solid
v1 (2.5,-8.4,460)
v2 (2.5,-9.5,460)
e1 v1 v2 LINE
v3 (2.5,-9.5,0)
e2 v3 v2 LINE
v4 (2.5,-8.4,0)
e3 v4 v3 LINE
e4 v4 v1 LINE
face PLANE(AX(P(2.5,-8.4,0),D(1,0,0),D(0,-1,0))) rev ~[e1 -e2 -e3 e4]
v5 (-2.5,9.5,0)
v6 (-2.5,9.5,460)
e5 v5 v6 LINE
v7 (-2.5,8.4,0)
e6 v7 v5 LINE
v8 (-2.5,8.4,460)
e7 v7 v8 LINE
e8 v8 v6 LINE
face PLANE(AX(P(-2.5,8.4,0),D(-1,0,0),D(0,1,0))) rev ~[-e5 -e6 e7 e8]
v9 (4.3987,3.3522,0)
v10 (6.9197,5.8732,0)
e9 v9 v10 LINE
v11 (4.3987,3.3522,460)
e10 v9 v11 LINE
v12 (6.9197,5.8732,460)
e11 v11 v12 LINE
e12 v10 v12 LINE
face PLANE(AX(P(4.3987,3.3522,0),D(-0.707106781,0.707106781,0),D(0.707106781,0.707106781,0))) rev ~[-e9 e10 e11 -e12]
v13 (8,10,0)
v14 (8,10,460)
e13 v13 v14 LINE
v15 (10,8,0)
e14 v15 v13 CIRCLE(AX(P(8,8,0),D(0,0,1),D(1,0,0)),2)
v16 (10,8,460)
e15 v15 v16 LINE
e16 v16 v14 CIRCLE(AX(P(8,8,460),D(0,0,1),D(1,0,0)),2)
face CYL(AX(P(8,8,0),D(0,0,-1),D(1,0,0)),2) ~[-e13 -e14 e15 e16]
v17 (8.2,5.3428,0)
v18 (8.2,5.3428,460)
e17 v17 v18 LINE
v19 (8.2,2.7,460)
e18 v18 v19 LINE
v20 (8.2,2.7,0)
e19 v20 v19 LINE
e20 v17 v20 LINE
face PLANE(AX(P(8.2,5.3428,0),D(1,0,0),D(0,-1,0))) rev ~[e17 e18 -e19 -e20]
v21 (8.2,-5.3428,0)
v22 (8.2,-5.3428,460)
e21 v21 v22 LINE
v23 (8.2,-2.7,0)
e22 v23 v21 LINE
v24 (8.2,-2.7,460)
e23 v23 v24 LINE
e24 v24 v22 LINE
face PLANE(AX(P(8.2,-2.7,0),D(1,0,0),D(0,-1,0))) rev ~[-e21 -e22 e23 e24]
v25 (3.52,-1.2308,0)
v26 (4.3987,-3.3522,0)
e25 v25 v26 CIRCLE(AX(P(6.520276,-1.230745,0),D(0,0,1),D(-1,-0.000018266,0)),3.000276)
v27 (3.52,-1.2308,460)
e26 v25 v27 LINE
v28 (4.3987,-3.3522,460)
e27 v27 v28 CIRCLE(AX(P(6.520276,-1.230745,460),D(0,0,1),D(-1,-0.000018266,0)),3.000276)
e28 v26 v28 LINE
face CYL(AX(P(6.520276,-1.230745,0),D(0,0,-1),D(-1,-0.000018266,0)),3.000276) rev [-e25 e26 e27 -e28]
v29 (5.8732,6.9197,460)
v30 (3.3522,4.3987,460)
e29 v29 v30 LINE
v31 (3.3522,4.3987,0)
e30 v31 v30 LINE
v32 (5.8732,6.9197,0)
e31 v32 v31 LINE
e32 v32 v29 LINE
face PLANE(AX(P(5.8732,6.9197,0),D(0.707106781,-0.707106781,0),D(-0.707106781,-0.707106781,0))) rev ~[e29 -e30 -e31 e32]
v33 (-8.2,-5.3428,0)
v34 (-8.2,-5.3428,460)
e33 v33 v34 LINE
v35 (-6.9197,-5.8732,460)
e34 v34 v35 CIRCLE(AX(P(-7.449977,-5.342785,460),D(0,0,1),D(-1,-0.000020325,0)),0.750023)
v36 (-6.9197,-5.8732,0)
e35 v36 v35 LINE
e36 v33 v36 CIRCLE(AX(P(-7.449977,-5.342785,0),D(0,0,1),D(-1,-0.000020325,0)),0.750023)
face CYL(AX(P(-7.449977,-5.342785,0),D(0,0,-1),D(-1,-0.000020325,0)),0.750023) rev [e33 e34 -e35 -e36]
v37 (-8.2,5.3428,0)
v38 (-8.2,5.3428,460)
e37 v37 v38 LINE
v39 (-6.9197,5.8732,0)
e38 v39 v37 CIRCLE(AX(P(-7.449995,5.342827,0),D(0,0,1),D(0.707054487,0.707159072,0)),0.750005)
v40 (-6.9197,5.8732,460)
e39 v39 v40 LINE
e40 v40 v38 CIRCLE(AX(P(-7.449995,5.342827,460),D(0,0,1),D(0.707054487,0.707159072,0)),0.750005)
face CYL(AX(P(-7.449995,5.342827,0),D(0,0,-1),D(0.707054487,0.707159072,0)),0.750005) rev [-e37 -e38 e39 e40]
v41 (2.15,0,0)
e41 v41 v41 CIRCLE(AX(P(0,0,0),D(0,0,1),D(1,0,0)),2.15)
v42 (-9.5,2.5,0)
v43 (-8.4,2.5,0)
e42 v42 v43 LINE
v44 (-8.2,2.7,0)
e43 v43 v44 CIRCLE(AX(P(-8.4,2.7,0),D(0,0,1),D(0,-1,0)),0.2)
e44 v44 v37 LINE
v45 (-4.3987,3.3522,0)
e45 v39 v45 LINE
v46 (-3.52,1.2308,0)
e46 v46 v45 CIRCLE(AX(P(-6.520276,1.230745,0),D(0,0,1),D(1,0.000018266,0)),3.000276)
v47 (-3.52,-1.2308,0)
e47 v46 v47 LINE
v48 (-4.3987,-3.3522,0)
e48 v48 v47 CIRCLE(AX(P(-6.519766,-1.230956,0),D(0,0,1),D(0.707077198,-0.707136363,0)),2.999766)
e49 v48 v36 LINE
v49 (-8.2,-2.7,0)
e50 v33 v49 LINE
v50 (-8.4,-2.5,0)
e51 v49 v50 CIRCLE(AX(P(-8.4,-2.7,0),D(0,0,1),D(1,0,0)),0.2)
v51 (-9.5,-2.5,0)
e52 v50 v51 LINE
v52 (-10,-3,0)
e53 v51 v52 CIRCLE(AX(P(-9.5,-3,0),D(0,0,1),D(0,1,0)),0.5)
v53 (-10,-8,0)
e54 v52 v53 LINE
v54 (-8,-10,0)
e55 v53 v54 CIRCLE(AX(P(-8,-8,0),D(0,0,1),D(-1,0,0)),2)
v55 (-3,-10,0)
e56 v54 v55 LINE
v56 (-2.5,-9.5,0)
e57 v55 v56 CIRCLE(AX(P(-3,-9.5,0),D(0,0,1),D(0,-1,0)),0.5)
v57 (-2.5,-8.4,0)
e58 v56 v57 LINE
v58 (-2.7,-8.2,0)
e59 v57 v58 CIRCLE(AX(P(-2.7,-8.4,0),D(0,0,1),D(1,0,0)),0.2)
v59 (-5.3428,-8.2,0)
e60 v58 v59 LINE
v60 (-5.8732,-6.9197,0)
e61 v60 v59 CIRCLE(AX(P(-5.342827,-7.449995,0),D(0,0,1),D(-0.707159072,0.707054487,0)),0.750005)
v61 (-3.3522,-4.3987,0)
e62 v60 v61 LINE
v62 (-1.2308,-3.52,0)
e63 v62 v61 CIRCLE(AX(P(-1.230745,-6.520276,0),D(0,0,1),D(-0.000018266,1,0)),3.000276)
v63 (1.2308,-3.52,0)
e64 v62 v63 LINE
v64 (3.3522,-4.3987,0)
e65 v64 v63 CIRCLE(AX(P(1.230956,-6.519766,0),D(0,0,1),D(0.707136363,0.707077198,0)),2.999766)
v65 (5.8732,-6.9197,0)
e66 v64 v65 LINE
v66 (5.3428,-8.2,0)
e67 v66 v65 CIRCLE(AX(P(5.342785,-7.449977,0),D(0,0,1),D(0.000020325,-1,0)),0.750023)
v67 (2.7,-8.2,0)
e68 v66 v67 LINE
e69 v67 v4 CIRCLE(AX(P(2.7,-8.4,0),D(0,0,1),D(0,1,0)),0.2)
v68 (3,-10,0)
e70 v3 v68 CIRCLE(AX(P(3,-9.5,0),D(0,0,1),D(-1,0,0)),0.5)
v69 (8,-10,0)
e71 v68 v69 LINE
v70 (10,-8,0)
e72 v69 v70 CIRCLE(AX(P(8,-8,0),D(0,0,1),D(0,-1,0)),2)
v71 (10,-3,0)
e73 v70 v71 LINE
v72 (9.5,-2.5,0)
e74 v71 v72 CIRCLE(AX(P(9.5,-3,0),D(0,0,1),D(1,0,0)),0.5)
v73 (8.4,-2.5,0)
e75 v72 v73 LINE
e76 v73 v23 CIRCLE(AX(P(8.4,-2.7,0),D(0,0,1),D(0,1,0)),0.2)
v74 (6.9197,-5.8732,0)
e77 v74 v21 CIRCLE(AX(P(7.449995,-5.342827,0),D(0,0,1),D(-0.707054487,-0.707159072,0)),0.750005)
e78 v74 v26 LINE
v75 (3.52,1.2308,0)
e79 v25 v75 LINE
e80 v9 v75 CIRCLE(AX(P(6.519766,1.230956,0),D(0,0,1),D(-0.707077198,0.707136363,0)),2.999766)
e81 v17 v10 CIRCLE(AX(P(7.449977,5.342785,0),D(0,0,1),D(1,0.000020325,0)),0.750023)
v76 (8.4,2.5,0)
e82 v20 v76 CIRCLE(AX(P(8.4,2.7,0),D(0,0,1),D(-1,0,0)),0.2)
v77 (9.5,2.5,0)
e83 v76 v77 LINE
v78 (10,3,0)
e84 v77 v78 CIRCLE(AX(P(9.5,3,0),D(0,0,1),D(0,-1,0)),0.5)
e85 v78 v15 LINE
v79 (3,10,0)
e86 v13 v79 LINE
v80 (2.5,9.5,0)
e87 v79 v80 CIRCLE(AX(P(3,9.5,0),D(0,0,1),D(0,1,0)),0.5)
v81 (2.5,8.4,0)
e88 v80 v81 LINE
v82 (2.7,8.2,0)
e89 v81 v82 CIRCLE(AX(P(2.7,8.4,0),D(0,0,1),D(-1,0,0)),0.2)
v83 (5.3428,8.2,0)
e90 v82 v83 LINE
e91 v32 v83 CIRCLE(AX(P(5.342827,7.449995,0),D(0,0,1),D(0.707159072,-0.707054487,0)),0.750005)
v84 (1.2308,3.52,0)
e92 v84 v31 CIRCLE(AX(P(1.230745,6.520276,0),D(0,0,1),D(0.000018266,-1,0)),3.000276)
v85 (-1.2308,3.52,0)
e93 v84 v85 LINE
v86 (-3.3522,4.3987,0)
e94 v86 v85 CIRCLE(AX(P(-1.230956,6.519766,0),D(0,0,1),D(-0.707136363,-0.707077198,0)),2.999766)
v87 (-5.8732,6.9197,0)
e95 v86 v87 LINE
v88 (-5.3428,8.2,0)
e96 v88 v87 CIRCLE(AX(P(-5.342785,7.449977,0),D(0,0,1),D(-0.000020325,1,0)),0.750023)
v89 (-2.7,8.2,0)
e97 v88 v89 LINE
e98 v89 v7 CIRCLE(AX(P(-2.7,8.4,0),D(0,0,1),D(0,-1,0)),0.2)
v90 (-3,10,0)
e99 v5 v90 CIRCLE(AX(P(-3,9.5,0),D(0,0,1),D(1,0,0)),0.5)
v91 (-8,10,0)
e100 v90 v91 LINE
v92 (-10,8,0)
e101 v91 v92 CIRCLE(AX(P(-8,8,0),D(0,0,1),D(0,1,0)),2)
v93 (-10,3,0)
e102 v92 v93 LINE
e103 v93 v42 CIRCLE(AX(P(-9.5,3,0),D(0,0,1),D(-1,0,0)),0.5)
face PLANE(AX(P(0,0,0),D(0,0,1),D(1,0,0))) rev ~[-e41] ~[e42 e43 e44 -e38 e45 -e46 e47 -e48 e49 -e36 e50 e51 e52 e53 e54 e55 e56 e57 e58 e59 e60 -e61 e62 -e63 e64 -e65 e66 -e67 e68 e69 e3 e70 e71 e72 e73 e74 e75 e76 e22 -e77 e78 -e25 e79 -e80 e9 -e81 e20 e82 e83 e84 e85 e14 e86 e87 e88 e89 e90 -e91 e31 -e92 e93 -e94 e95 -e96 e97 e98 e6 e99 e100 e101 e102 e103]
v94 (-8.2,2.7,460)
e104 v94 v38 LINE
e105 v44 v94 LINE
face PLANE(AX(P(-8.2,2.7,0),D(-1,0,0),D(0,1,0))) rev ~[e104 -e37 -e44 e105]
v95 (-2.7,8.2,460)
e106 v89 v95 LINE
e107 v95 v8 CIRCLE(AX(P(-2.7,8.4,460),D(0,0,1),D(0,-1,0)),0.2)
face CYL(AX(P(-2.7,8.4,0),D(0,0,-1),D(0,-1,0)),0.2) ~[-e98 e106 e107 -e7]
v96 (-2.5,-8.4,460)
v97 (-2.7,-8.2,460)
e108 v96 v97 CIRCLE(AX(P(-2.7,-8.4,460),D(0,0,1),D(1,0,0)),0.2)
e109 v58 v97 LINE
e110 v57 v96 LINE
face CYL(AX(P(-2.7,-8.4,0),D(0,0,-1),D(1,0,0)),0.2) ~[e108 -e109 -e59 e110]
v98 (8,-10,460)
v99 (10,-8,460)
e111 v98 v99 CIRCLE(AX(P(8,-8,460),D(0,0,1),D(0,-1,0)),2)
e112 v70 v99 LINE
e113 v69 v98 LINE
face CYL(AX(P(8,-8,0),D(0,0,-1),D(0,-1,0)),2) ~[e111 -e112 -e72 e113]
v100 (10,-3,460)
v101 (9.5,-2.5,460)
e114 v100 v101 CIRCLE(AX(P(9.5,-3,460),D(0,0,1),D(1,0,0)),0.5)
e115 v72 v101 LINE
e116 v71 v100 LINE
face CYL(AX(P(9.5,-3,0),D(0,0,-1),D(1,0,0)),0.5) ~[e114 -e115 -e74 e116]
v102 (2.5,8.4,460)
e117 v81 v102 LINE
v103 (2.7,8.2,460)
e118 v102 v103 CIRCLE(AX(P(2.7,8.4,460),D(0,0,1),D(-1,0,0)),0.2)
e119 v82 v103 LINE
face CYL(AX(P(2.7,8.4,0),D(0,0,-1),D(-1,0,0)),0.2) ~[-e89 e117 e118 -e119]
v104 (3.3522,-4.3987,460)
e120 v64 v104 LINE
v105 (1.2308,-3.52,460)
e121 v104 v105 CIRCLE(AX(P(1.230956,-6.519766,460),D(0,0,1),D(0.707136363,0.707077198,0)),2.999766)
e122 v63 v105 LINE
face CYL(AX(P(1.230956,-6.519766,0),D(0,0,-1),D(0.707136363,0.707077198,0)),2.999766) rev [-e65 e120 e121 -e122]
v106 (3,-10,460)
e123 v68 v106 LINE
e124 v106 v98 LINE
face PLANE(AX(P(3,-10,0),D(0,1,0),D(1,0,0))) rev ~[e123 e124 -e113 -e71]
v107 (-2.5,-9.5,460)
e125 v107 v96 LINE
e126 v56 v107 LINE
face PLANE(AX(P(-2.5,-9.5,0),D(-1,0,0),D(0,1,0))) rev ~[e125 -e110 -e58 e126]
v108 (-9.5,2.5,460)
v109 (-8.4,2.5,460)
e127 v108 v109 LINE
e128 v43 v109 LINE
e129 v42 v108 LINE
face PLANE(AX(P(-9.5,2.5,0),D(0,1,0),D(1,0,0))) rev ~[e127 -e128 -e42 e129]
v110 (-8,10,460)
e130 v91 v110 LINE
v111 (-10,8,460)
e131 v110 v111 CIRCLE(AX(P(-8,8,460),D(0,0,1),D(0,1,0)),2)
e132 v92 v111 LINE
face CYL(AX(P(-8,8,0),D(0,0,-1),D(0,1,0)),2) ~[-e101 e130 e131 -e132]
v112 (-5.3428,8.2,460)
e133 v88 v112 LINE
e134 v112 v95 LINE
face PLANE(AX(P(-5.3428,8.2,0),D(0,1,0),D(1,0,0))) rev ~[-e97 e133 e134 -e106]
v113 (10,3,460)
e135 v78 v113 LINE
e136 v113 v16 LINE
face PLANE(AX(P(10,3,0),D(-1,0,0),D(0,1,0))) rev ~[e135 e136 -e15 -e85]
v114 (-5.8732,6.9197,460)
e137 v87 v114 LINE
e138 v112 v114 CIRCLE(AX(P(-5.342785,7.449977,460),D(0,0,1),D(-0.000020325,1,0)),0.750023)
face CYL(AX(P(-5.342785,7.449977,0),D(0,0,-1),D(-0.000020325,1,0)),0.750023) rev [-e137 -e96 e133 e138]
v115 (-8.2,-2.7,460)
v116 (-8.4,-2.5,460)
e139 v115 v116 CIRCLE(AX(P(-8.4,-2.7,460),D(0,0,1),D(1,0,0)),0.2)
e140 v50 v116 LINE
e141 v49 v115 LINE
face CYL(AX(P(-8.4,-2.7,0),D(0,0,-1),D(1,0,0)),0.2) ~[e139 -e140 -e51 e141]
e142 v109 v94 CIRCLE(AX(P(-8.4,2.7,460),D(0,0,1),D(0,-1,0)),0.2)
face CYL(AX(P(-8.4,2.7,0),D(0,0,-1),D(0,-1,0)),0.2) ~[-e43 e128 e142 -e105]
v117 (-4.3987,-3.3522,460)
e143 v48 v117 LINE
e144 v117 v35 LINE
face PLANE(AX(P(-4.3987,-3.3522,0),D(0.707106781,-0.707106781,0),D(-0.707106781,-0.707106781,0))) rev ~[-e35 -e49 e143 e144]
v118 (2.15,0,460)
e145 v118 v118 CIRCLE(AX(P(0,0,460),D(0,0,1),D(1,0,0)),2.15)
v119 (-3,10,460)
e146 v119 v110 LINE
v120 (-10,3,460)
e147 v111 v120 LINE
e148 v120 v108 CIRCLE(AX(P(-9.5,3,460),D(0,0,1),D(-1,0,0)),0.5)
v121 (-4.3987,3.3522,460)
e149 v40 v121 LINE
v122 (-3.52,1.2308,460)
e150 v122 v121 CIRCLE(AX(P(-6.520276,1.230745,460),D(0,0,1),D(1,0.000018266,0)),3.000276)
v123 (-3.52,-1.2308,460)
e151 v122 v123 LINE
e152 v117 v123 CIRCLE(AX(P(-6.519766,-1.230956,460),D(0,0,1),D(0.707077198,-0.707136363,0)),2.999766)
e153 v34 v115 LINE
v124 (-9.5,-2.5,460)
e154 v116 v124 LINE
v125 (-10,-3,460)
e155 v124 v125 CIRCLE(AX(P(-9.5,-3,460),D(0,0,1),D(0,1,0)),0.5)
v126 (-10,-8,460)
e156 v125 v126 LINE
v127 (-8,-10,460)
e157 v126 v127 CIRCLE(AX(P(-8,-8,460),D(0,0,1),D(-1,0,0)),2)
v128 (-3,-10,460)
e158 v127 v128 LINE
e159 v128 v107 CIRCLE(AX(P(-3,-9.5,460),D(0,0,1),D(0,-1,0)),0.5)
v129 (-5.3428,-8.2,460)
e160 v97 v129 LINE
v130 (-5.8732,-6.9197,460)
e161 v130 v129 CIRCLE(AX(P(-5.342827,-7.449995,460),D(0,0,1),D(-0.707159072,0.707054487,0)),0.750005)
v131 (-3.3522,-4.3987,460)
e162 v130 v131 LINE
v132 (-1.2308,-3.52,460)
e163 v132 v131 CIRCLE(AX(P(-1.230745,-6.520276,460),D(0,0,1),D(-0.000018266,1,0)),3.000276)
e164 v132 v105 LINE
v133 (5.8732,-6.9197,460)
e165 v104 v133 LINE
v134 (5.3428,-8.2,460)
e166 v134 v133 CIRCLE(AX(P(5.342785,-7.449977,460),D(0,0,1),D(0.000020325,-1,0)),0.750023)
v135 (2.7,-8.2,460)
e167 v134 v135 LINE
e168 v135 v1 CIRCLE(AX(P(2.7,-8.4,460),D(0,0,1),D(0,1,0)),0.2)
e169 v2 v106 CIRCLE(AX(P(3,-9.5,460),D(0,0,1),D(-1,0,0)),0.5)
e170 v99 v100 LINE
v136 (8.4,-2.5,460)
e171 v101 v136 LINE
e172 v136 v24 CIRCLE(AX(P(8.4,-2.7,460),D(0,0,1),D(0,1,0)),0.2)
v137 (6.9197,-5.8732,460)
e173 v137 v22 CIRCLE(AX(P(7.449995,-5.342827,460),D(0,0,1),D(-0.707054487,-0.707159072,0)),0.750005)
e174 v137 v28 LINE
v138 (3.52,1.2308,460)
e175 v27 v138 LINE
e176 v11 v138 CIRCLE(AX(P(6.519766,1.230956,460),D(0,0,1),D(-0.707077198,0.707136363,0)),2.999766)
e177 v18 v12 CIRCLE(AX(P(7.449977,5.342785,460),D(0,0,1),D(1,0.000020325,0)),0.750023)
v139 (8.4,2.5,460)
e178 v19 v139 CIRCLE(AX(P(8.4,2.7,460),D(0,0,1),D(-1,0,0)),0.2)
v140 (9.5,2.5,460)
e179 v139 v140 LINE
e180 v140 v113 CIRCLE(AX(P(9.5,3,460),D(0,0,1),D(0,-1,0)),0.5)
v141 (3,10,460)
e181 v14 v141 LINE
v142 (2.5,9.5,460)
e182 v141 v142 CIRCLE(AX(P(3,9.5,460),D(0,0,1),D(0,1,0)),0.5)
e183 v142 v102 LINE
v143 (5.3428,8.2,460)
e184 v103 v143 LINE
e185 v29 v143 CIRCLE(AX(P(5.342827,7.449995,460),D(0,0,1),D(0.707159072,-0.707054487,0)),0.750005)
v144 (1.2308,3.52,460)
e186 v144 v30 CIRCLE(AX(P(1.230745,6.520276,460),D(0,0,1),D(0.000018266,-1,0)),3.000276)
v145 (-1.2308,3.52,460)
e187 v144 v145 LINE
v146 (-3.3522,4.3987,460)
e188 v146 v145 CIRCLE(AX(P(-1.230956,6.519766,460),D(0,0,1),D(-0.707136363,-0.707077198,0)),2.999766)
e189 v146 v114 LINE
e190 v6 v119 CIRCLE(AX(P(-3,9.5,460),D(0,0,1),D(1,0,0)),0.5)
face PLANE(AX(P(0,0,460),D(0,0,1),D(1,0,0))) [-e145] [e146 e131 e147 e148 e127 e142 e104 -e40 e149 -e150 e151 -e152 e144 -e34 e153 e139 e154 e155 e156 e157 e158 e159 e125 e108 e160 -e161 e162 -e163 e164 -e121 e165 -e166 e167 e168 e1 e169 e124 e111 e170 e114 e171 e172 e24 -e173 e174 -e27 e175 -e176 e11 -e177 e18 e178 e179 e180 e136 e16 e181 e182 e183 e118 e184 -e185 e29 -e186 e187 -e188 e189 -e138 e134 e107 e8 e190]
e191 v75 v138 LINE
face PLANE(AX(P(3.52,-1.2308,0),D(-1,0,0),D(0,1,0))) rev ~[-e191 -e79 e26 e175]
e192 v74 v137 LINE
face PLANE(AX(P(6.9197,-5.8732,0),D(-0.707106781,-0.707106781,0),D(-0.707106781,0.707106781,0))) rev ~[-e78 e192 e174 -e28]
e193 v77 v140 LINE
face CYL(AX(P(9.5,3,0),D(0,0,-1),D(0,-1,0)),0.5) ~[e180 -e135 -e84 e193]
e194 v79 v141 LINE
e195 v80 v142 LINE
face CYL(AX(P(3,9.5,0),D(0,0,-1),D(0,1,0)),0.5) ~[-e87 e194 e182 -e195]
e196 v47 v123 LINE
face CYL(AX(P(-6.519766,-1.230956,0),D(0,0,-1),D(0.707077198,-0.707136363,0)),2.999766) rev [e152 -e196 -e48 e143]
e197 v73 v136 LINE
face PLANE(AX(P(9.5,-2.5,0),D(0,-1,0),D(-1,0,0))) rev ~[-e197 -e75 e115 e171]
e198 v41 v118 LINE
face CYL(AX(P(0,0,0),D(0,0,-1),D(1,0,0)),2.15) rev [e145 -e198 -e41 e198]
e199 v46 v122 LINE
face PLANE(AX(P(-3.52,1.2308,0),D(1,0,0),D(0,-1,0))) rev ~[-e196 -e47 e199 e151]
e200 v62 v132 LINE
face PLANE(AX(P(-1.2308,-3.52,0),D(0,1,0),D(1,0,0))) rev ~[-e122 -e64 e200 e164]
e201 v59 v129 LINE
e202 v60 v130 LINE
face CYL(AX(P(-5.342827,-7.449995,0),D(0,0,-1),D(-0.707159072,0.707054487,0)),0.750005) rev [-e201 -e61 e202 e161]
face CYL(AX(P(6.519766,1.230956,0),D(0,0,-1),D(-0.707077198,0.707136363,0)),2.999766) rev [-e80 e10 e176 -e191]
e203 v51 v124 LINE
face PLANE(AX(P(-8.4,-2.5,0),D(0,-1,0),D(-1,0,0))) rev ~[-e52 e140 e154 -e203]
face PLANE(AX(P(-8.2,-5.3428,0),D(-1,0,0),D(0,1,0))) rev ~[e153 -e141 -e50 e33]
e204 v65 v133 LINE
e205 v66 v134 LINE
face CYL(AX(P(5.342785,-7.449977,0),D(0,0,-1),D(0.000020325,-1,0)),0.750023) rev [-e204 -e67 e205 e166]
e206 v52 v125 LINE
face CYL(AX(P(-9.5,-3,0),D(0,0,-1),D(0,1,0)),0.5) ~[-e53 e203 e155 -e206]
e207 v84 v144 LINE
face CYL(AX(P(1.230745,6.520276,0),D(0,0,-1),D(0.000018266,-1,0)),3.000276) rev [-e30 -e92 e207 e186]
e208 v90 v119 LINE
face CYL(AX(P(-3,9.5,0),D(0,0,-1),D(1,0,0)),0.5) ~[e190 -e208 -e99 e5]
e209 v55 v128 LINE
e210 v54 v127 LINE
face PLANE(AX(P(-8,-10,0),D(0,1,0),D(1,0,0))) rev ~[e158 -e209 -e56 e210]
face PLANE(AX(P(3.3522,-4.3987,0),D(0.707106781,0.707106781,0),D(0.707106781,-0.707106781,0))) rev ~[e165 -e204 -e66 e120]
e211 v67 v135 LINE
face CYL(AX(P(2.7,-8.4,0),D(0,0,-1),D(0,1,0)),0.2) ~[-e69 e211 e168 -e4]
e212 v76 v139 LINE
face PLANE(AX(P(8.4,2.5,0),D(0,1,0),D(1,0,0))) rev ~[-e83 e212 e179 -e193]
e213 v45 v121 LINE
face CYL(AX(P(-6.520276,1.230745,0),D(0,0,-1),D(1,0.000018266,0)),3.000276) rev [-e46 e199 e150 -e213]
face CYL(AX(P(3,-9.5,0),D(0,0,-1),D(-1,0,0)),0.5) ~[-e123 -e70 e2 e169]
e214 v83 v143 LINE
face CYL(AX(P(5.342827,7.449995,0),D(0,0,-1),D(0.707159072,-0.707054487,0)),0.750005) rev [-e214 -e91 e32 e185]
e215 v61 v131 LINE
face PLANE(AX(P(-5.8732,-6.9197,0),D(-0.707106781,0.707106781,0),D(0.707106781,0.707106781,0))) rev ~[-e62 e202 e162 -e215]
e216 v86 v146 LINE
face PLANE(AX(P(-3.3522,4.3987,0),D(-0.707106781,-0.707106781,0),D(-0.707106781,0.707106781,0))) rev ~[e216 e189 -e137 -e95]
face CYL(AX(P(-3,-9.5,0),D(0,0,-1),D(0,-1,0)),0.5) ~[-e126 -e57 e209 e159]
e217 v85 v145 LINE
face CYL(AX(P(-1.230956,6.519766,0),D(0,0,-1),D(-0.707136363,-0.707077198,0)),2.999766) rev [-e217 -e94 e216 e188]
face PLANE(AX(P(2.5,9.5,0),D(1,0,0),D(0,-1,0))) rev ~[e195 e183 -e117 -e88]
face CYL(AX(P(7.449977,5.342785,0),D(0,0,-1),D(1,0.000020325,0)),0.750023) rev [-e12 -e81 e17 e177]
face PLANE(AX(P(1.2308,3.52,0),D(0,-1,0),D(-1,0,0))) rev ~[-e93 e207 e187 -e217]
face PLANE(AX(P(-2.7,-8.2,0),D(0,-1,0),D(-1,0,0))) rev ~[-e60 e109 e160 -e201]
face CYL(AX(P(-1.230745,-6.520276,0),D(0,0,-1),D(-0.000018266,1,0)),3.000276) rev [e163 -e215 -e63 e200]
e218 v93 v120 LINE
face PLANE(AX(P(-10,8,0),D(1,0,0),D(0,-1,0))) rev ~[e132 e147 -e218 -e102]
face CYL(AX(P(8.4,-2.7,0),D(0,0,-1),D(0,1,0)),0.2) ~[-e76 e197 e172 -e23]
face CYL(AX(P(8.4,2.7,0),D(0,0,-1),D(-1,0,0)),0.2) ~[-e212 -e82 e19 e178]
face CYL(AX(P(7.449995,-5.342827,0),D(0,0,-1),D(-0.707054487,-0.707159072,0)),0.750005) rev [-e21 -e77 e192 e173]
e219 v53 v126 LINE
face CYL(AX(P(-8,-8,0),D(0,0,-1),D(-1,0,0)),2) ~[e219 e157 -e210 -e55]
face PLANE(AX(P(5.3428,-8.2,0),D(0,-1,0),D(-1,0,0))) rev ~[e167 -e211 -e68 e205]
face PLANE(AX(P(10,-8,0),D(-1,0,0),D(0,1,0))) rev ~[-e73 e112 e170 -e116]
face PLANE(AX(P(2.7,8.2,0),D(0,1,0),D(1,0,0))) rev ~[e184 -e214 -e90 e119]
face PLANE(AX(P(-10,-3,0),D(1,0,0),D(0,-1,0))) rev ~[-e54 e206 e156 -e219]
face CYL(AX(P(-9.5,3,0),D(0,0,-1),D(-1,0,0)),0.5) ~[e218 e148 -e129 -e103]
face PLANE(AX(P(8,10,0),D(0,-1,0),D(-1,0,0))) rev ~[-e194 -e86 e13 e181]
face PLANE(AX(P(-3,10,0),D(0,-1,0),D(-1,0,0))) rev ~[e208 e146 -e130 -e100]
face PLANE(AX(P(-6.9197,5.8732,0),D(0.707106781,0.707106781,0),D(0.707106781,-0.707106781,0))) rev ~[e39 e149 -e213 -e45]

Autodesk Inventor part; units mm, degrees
ref_plane "YZ Plane" through (0, 0, 0) normal (1, 0, 0) x (0, 1, 0)
ref_plane "Płaszczyzna początkowa" through (0, 0, 0) normal (0, 0, 1) x (1, 0, 0)
ref_plane "Płaszczyzna końcowa" through (0, 0, 460) normal (0, 0, 1) x (1, 0, 0)
sketch "Szkic" plane through (0, 0, 0) normal (0, 0, 1) x (1, 0, 0)
  arc A0 (8, -10) -> (10, -8) centre (8, -8) ccw
  line L0 (10, -8) -> (10, -3)
  arc A1 (10, -3) -> (9.5, -2.5) centre (9.5, -3) ccw
  line L1 (9.5, -2.5) -> (8.4, -2.5)
  arc A2 (8.4, -2.5) -> (8.2, -2.7) centre (8.4, -2.7) ccw
  line L2 (8.2, -2.7) -> (8.2, -5.3428)
  arc A3 (6.9197, -5.8732) -> (8.2, -5.3428) centre (7.45, -5.3428) ccw
  line L3 (6.9197, -5.8732) -> (4.3987, -3.3522)
  arc A4 (3.52, -1.2308) -> (4.3987, -3.3522) centre (6.52, -1.2308) ccw
  line L4 (3.52, -1.2308) -> (3.52, 1.2308)
  arc A5 (4.3987, 3.3522) -> (3.52, 1.2308) centre (6.52, 1.2308) ccw
  line L5 (4.3987, 3.3522) -> (6.9197, 5.8732)
  arc A6 (8.2, 5.3428) -> (6.9197, 5.8732) centre (7.45, 5.3428) ccw
  line L6 (8.2, 5.3428) -> (8.2, 2.7)
  arc A7 (8.2, 2.7) -> (8.4, 2.5) centre (8.4, 2.7) ccw
  line L7 (8.4, 2.5) -> (9.5, 2.5)
  arc A8 (9.5, 2.5) -> (10, 3) centre (9.5, 3) ccw
  line L8 (10, 3) -> (10, 8)
  arc A9 (10, 8) -> (8, 10) centre (8, 8) ccw
  line L9 (8, 10) -> (3, 10)
  arc A10 (3, 10) -> (2.5, 9.5) centre (3, 9.5) ccw
  line L10 (2.5, 9.5) -> (2.5, 8.4)
  arc A11 (2.5, 8.4) -> (2.7, 8.2) centre (2.7, 8.4) ccw
  line L11 (2.7, 8.2) -> (5.3428, 8.2)
  arc A12 (5.8732, 6.9197) -> (5.3428, 8.2) centre (5.3428, 7.45) ccw
  line L12 (5.8732, 6.9197) -> (3.3522, 4.3987)
  arc A13 (1.2308, 3.52) -> (3.3522, 4.3987) centre (1.2308, 6.52) ccw
  line L13 (1.2308, 3.52) -> (-1.2308, 3.52)
  arc A14 (-3.3522, 4.3987) -> (-1.2308, 3.52) centre (-1.2308, 6.52) ccw
  line L14 (-3.3522, 4.3987) -> (-5.8732, 6.9197)
  arc A15 (-5.3428, 8.2) -> (-5.8732, 6.9197) centre (-5.3428, 7.45) ccw
  line L15 (-5.3428, 8.2) -> (-2.7, 8.2)
  arc A16 (-2.7, 8.2) -> (-2.5, 8.4) centre (-2.7, 8.4) ccw
  line L16 (-2.5, 8.4) -> (-2.5, 9.5)
  arc A17 (-2.5, 9.5) -> (-3, 10) centre (-3, 9.5) ccw
  line L17 (-3, 10) -> (-8, 10)
  arc A18 (-8, 10) -> (-10, 8) centre (-8, 8) ccw
  line L18 (-10, 8) -> (-10, 3)
  arc A19 (-10, 3) -> (-9.5, 2.5) centre (-9.5, 3) ccw
  line L19 (-9.5, 2.5) -> (-8.4, 2.5)
  arc A20 (-8.4, 2.5) -> (-8.2, 2.7) centre (-8.4, 2.7) ccw
  line L20 (-8.2, 2.7) -> (-8.2, 5.3428)
  arc A21 (-6.9197, 5.8732) -> (-8.2, 5.3428) centre (-7.45, 5.3428) ccw
  line L21 (-6.9197, 5.8732) -> (-4.3987, 3.3522)
  arc A22 (-3.52, 1.2308) -> (-4.3987, 3.3522) centre (-6.52, 1.2308) ccw
  line L22 (-3.52, 1.2308) -> (-3.52, -1.2308)
  arc A23 (-4.3987, -3.3522) -> (-3.52, -1.2308) centre (-6.52, -1.2308) ccw
  line L23 (-4.3987, -3.3522) -> (-6.9197, -5.8732)
  arc A24 (-8.2, -5.3428) -> (-6.9197, -5.8732) centre (-7.45, -5.3428) ccw
  line L24 (-8.2, -5.3428) -> (-8.2, -2.7)
  arc A25 (-8.2, -2.7) -> (-8.4, -2.5) centre (-8.4, -2.7) ccw
  line L25 (-8.4, -2.5) -> (-9.5, -2.5)
  arc A26 (-9.5, -2.5) -> (-10, -3) centre (-9.5, -3) ccw
  line L26 (-10, -3) -> (-10, -8)
  arc A27 (-10, -8) -> (-8, -10) centre (-8, -8) ccw
  line L27 (-8, -10) -> (-3, -10)
  arc A28 (-3, -10) -> (-2.5, -9.5) centre (-3, -9.5) ccw
  line L28 (-2.5, -9.5) -> (-2.5, -8.4)
  arc A29 (-2.5, -8.4) -> (-2.7, -8.2) centre (-2.7, -8.4) ccw
  line L29 (-2.7, -8.2) -> (-5.3428, -8.2)
  arc A30 (-5.8732, -6.9197) -> (-5.3428, -8.2) centre (-5.3428, -7.45) ccw
  line L30 (-5.8732, -6.9197) -> (-3.3522, -4.3987)
  arc A31 (-1.2308, -3.52) -> (-3.3522, -4.3987) centre (-1.2308, -6.52) ccw
  line L31 (-1.2308, -3.52) -> (1.2308, -3.52)
  arc A32 (3.3522, -4.3987) -> (1.2308, -3.52) centre (1.2308, -6.52) ccw
  line L32 (3.3522, -4.3987) -> (5.8732, -6.9197)
  arc A33 (5.3428, -8.2) -> (5.8732, -6.9197) centre (5.3428, -7.45) ccw
  line L33 (5.3428, -8.2) -> (2.7, -8.2)
  arc A34 (2.7, -8.2) -> (2.5, -8.4) centre (2.7, -8.4) ccw
  line L34 (2.5, -8.4) -> (2.5, -9.5)
  arc A35 (2.5, -9.5) -> (3, -10) centre (3, -9.5) ccw
  line L35 (3, -10) -> (8, -10)
  circle A36 centre (0, 0) radius 2.15
  point P0 (10, -10)
extrude "Bryła" add sketch "Szkic" along normal up to surface (460 mm away) from surface at 0
sketch "Szkic4" plane through (0, 0, 0) normal (0, 0, 1) x (1, 0, 0)
  line L0 (0, 0) -> (10, 0)
ref_plane "Płaszczyzna konstrukcyjna4" through (0, 0, 0) normal (0, -1, 0) x (1, 0, 0)
sketch "Szkic5" plane through (0, 0, 0) normal (0, -1, 0) x (1, 0, 0)
  line L0 (-2, 0) -> (12, 0)
  line L1 (-2, 460) -> (12, 460)
  dimension "d7" = 460
equation "\"G_OFFSET_START\" = 0"
equation "\"G_OFFSET_END\" = 0"
equation "\"G_L\" = d7"
properties part number "COTS_ARMA_AR3701_20x20_Alu_Extr_00000001" material "Aluminium 6061-AHC"
